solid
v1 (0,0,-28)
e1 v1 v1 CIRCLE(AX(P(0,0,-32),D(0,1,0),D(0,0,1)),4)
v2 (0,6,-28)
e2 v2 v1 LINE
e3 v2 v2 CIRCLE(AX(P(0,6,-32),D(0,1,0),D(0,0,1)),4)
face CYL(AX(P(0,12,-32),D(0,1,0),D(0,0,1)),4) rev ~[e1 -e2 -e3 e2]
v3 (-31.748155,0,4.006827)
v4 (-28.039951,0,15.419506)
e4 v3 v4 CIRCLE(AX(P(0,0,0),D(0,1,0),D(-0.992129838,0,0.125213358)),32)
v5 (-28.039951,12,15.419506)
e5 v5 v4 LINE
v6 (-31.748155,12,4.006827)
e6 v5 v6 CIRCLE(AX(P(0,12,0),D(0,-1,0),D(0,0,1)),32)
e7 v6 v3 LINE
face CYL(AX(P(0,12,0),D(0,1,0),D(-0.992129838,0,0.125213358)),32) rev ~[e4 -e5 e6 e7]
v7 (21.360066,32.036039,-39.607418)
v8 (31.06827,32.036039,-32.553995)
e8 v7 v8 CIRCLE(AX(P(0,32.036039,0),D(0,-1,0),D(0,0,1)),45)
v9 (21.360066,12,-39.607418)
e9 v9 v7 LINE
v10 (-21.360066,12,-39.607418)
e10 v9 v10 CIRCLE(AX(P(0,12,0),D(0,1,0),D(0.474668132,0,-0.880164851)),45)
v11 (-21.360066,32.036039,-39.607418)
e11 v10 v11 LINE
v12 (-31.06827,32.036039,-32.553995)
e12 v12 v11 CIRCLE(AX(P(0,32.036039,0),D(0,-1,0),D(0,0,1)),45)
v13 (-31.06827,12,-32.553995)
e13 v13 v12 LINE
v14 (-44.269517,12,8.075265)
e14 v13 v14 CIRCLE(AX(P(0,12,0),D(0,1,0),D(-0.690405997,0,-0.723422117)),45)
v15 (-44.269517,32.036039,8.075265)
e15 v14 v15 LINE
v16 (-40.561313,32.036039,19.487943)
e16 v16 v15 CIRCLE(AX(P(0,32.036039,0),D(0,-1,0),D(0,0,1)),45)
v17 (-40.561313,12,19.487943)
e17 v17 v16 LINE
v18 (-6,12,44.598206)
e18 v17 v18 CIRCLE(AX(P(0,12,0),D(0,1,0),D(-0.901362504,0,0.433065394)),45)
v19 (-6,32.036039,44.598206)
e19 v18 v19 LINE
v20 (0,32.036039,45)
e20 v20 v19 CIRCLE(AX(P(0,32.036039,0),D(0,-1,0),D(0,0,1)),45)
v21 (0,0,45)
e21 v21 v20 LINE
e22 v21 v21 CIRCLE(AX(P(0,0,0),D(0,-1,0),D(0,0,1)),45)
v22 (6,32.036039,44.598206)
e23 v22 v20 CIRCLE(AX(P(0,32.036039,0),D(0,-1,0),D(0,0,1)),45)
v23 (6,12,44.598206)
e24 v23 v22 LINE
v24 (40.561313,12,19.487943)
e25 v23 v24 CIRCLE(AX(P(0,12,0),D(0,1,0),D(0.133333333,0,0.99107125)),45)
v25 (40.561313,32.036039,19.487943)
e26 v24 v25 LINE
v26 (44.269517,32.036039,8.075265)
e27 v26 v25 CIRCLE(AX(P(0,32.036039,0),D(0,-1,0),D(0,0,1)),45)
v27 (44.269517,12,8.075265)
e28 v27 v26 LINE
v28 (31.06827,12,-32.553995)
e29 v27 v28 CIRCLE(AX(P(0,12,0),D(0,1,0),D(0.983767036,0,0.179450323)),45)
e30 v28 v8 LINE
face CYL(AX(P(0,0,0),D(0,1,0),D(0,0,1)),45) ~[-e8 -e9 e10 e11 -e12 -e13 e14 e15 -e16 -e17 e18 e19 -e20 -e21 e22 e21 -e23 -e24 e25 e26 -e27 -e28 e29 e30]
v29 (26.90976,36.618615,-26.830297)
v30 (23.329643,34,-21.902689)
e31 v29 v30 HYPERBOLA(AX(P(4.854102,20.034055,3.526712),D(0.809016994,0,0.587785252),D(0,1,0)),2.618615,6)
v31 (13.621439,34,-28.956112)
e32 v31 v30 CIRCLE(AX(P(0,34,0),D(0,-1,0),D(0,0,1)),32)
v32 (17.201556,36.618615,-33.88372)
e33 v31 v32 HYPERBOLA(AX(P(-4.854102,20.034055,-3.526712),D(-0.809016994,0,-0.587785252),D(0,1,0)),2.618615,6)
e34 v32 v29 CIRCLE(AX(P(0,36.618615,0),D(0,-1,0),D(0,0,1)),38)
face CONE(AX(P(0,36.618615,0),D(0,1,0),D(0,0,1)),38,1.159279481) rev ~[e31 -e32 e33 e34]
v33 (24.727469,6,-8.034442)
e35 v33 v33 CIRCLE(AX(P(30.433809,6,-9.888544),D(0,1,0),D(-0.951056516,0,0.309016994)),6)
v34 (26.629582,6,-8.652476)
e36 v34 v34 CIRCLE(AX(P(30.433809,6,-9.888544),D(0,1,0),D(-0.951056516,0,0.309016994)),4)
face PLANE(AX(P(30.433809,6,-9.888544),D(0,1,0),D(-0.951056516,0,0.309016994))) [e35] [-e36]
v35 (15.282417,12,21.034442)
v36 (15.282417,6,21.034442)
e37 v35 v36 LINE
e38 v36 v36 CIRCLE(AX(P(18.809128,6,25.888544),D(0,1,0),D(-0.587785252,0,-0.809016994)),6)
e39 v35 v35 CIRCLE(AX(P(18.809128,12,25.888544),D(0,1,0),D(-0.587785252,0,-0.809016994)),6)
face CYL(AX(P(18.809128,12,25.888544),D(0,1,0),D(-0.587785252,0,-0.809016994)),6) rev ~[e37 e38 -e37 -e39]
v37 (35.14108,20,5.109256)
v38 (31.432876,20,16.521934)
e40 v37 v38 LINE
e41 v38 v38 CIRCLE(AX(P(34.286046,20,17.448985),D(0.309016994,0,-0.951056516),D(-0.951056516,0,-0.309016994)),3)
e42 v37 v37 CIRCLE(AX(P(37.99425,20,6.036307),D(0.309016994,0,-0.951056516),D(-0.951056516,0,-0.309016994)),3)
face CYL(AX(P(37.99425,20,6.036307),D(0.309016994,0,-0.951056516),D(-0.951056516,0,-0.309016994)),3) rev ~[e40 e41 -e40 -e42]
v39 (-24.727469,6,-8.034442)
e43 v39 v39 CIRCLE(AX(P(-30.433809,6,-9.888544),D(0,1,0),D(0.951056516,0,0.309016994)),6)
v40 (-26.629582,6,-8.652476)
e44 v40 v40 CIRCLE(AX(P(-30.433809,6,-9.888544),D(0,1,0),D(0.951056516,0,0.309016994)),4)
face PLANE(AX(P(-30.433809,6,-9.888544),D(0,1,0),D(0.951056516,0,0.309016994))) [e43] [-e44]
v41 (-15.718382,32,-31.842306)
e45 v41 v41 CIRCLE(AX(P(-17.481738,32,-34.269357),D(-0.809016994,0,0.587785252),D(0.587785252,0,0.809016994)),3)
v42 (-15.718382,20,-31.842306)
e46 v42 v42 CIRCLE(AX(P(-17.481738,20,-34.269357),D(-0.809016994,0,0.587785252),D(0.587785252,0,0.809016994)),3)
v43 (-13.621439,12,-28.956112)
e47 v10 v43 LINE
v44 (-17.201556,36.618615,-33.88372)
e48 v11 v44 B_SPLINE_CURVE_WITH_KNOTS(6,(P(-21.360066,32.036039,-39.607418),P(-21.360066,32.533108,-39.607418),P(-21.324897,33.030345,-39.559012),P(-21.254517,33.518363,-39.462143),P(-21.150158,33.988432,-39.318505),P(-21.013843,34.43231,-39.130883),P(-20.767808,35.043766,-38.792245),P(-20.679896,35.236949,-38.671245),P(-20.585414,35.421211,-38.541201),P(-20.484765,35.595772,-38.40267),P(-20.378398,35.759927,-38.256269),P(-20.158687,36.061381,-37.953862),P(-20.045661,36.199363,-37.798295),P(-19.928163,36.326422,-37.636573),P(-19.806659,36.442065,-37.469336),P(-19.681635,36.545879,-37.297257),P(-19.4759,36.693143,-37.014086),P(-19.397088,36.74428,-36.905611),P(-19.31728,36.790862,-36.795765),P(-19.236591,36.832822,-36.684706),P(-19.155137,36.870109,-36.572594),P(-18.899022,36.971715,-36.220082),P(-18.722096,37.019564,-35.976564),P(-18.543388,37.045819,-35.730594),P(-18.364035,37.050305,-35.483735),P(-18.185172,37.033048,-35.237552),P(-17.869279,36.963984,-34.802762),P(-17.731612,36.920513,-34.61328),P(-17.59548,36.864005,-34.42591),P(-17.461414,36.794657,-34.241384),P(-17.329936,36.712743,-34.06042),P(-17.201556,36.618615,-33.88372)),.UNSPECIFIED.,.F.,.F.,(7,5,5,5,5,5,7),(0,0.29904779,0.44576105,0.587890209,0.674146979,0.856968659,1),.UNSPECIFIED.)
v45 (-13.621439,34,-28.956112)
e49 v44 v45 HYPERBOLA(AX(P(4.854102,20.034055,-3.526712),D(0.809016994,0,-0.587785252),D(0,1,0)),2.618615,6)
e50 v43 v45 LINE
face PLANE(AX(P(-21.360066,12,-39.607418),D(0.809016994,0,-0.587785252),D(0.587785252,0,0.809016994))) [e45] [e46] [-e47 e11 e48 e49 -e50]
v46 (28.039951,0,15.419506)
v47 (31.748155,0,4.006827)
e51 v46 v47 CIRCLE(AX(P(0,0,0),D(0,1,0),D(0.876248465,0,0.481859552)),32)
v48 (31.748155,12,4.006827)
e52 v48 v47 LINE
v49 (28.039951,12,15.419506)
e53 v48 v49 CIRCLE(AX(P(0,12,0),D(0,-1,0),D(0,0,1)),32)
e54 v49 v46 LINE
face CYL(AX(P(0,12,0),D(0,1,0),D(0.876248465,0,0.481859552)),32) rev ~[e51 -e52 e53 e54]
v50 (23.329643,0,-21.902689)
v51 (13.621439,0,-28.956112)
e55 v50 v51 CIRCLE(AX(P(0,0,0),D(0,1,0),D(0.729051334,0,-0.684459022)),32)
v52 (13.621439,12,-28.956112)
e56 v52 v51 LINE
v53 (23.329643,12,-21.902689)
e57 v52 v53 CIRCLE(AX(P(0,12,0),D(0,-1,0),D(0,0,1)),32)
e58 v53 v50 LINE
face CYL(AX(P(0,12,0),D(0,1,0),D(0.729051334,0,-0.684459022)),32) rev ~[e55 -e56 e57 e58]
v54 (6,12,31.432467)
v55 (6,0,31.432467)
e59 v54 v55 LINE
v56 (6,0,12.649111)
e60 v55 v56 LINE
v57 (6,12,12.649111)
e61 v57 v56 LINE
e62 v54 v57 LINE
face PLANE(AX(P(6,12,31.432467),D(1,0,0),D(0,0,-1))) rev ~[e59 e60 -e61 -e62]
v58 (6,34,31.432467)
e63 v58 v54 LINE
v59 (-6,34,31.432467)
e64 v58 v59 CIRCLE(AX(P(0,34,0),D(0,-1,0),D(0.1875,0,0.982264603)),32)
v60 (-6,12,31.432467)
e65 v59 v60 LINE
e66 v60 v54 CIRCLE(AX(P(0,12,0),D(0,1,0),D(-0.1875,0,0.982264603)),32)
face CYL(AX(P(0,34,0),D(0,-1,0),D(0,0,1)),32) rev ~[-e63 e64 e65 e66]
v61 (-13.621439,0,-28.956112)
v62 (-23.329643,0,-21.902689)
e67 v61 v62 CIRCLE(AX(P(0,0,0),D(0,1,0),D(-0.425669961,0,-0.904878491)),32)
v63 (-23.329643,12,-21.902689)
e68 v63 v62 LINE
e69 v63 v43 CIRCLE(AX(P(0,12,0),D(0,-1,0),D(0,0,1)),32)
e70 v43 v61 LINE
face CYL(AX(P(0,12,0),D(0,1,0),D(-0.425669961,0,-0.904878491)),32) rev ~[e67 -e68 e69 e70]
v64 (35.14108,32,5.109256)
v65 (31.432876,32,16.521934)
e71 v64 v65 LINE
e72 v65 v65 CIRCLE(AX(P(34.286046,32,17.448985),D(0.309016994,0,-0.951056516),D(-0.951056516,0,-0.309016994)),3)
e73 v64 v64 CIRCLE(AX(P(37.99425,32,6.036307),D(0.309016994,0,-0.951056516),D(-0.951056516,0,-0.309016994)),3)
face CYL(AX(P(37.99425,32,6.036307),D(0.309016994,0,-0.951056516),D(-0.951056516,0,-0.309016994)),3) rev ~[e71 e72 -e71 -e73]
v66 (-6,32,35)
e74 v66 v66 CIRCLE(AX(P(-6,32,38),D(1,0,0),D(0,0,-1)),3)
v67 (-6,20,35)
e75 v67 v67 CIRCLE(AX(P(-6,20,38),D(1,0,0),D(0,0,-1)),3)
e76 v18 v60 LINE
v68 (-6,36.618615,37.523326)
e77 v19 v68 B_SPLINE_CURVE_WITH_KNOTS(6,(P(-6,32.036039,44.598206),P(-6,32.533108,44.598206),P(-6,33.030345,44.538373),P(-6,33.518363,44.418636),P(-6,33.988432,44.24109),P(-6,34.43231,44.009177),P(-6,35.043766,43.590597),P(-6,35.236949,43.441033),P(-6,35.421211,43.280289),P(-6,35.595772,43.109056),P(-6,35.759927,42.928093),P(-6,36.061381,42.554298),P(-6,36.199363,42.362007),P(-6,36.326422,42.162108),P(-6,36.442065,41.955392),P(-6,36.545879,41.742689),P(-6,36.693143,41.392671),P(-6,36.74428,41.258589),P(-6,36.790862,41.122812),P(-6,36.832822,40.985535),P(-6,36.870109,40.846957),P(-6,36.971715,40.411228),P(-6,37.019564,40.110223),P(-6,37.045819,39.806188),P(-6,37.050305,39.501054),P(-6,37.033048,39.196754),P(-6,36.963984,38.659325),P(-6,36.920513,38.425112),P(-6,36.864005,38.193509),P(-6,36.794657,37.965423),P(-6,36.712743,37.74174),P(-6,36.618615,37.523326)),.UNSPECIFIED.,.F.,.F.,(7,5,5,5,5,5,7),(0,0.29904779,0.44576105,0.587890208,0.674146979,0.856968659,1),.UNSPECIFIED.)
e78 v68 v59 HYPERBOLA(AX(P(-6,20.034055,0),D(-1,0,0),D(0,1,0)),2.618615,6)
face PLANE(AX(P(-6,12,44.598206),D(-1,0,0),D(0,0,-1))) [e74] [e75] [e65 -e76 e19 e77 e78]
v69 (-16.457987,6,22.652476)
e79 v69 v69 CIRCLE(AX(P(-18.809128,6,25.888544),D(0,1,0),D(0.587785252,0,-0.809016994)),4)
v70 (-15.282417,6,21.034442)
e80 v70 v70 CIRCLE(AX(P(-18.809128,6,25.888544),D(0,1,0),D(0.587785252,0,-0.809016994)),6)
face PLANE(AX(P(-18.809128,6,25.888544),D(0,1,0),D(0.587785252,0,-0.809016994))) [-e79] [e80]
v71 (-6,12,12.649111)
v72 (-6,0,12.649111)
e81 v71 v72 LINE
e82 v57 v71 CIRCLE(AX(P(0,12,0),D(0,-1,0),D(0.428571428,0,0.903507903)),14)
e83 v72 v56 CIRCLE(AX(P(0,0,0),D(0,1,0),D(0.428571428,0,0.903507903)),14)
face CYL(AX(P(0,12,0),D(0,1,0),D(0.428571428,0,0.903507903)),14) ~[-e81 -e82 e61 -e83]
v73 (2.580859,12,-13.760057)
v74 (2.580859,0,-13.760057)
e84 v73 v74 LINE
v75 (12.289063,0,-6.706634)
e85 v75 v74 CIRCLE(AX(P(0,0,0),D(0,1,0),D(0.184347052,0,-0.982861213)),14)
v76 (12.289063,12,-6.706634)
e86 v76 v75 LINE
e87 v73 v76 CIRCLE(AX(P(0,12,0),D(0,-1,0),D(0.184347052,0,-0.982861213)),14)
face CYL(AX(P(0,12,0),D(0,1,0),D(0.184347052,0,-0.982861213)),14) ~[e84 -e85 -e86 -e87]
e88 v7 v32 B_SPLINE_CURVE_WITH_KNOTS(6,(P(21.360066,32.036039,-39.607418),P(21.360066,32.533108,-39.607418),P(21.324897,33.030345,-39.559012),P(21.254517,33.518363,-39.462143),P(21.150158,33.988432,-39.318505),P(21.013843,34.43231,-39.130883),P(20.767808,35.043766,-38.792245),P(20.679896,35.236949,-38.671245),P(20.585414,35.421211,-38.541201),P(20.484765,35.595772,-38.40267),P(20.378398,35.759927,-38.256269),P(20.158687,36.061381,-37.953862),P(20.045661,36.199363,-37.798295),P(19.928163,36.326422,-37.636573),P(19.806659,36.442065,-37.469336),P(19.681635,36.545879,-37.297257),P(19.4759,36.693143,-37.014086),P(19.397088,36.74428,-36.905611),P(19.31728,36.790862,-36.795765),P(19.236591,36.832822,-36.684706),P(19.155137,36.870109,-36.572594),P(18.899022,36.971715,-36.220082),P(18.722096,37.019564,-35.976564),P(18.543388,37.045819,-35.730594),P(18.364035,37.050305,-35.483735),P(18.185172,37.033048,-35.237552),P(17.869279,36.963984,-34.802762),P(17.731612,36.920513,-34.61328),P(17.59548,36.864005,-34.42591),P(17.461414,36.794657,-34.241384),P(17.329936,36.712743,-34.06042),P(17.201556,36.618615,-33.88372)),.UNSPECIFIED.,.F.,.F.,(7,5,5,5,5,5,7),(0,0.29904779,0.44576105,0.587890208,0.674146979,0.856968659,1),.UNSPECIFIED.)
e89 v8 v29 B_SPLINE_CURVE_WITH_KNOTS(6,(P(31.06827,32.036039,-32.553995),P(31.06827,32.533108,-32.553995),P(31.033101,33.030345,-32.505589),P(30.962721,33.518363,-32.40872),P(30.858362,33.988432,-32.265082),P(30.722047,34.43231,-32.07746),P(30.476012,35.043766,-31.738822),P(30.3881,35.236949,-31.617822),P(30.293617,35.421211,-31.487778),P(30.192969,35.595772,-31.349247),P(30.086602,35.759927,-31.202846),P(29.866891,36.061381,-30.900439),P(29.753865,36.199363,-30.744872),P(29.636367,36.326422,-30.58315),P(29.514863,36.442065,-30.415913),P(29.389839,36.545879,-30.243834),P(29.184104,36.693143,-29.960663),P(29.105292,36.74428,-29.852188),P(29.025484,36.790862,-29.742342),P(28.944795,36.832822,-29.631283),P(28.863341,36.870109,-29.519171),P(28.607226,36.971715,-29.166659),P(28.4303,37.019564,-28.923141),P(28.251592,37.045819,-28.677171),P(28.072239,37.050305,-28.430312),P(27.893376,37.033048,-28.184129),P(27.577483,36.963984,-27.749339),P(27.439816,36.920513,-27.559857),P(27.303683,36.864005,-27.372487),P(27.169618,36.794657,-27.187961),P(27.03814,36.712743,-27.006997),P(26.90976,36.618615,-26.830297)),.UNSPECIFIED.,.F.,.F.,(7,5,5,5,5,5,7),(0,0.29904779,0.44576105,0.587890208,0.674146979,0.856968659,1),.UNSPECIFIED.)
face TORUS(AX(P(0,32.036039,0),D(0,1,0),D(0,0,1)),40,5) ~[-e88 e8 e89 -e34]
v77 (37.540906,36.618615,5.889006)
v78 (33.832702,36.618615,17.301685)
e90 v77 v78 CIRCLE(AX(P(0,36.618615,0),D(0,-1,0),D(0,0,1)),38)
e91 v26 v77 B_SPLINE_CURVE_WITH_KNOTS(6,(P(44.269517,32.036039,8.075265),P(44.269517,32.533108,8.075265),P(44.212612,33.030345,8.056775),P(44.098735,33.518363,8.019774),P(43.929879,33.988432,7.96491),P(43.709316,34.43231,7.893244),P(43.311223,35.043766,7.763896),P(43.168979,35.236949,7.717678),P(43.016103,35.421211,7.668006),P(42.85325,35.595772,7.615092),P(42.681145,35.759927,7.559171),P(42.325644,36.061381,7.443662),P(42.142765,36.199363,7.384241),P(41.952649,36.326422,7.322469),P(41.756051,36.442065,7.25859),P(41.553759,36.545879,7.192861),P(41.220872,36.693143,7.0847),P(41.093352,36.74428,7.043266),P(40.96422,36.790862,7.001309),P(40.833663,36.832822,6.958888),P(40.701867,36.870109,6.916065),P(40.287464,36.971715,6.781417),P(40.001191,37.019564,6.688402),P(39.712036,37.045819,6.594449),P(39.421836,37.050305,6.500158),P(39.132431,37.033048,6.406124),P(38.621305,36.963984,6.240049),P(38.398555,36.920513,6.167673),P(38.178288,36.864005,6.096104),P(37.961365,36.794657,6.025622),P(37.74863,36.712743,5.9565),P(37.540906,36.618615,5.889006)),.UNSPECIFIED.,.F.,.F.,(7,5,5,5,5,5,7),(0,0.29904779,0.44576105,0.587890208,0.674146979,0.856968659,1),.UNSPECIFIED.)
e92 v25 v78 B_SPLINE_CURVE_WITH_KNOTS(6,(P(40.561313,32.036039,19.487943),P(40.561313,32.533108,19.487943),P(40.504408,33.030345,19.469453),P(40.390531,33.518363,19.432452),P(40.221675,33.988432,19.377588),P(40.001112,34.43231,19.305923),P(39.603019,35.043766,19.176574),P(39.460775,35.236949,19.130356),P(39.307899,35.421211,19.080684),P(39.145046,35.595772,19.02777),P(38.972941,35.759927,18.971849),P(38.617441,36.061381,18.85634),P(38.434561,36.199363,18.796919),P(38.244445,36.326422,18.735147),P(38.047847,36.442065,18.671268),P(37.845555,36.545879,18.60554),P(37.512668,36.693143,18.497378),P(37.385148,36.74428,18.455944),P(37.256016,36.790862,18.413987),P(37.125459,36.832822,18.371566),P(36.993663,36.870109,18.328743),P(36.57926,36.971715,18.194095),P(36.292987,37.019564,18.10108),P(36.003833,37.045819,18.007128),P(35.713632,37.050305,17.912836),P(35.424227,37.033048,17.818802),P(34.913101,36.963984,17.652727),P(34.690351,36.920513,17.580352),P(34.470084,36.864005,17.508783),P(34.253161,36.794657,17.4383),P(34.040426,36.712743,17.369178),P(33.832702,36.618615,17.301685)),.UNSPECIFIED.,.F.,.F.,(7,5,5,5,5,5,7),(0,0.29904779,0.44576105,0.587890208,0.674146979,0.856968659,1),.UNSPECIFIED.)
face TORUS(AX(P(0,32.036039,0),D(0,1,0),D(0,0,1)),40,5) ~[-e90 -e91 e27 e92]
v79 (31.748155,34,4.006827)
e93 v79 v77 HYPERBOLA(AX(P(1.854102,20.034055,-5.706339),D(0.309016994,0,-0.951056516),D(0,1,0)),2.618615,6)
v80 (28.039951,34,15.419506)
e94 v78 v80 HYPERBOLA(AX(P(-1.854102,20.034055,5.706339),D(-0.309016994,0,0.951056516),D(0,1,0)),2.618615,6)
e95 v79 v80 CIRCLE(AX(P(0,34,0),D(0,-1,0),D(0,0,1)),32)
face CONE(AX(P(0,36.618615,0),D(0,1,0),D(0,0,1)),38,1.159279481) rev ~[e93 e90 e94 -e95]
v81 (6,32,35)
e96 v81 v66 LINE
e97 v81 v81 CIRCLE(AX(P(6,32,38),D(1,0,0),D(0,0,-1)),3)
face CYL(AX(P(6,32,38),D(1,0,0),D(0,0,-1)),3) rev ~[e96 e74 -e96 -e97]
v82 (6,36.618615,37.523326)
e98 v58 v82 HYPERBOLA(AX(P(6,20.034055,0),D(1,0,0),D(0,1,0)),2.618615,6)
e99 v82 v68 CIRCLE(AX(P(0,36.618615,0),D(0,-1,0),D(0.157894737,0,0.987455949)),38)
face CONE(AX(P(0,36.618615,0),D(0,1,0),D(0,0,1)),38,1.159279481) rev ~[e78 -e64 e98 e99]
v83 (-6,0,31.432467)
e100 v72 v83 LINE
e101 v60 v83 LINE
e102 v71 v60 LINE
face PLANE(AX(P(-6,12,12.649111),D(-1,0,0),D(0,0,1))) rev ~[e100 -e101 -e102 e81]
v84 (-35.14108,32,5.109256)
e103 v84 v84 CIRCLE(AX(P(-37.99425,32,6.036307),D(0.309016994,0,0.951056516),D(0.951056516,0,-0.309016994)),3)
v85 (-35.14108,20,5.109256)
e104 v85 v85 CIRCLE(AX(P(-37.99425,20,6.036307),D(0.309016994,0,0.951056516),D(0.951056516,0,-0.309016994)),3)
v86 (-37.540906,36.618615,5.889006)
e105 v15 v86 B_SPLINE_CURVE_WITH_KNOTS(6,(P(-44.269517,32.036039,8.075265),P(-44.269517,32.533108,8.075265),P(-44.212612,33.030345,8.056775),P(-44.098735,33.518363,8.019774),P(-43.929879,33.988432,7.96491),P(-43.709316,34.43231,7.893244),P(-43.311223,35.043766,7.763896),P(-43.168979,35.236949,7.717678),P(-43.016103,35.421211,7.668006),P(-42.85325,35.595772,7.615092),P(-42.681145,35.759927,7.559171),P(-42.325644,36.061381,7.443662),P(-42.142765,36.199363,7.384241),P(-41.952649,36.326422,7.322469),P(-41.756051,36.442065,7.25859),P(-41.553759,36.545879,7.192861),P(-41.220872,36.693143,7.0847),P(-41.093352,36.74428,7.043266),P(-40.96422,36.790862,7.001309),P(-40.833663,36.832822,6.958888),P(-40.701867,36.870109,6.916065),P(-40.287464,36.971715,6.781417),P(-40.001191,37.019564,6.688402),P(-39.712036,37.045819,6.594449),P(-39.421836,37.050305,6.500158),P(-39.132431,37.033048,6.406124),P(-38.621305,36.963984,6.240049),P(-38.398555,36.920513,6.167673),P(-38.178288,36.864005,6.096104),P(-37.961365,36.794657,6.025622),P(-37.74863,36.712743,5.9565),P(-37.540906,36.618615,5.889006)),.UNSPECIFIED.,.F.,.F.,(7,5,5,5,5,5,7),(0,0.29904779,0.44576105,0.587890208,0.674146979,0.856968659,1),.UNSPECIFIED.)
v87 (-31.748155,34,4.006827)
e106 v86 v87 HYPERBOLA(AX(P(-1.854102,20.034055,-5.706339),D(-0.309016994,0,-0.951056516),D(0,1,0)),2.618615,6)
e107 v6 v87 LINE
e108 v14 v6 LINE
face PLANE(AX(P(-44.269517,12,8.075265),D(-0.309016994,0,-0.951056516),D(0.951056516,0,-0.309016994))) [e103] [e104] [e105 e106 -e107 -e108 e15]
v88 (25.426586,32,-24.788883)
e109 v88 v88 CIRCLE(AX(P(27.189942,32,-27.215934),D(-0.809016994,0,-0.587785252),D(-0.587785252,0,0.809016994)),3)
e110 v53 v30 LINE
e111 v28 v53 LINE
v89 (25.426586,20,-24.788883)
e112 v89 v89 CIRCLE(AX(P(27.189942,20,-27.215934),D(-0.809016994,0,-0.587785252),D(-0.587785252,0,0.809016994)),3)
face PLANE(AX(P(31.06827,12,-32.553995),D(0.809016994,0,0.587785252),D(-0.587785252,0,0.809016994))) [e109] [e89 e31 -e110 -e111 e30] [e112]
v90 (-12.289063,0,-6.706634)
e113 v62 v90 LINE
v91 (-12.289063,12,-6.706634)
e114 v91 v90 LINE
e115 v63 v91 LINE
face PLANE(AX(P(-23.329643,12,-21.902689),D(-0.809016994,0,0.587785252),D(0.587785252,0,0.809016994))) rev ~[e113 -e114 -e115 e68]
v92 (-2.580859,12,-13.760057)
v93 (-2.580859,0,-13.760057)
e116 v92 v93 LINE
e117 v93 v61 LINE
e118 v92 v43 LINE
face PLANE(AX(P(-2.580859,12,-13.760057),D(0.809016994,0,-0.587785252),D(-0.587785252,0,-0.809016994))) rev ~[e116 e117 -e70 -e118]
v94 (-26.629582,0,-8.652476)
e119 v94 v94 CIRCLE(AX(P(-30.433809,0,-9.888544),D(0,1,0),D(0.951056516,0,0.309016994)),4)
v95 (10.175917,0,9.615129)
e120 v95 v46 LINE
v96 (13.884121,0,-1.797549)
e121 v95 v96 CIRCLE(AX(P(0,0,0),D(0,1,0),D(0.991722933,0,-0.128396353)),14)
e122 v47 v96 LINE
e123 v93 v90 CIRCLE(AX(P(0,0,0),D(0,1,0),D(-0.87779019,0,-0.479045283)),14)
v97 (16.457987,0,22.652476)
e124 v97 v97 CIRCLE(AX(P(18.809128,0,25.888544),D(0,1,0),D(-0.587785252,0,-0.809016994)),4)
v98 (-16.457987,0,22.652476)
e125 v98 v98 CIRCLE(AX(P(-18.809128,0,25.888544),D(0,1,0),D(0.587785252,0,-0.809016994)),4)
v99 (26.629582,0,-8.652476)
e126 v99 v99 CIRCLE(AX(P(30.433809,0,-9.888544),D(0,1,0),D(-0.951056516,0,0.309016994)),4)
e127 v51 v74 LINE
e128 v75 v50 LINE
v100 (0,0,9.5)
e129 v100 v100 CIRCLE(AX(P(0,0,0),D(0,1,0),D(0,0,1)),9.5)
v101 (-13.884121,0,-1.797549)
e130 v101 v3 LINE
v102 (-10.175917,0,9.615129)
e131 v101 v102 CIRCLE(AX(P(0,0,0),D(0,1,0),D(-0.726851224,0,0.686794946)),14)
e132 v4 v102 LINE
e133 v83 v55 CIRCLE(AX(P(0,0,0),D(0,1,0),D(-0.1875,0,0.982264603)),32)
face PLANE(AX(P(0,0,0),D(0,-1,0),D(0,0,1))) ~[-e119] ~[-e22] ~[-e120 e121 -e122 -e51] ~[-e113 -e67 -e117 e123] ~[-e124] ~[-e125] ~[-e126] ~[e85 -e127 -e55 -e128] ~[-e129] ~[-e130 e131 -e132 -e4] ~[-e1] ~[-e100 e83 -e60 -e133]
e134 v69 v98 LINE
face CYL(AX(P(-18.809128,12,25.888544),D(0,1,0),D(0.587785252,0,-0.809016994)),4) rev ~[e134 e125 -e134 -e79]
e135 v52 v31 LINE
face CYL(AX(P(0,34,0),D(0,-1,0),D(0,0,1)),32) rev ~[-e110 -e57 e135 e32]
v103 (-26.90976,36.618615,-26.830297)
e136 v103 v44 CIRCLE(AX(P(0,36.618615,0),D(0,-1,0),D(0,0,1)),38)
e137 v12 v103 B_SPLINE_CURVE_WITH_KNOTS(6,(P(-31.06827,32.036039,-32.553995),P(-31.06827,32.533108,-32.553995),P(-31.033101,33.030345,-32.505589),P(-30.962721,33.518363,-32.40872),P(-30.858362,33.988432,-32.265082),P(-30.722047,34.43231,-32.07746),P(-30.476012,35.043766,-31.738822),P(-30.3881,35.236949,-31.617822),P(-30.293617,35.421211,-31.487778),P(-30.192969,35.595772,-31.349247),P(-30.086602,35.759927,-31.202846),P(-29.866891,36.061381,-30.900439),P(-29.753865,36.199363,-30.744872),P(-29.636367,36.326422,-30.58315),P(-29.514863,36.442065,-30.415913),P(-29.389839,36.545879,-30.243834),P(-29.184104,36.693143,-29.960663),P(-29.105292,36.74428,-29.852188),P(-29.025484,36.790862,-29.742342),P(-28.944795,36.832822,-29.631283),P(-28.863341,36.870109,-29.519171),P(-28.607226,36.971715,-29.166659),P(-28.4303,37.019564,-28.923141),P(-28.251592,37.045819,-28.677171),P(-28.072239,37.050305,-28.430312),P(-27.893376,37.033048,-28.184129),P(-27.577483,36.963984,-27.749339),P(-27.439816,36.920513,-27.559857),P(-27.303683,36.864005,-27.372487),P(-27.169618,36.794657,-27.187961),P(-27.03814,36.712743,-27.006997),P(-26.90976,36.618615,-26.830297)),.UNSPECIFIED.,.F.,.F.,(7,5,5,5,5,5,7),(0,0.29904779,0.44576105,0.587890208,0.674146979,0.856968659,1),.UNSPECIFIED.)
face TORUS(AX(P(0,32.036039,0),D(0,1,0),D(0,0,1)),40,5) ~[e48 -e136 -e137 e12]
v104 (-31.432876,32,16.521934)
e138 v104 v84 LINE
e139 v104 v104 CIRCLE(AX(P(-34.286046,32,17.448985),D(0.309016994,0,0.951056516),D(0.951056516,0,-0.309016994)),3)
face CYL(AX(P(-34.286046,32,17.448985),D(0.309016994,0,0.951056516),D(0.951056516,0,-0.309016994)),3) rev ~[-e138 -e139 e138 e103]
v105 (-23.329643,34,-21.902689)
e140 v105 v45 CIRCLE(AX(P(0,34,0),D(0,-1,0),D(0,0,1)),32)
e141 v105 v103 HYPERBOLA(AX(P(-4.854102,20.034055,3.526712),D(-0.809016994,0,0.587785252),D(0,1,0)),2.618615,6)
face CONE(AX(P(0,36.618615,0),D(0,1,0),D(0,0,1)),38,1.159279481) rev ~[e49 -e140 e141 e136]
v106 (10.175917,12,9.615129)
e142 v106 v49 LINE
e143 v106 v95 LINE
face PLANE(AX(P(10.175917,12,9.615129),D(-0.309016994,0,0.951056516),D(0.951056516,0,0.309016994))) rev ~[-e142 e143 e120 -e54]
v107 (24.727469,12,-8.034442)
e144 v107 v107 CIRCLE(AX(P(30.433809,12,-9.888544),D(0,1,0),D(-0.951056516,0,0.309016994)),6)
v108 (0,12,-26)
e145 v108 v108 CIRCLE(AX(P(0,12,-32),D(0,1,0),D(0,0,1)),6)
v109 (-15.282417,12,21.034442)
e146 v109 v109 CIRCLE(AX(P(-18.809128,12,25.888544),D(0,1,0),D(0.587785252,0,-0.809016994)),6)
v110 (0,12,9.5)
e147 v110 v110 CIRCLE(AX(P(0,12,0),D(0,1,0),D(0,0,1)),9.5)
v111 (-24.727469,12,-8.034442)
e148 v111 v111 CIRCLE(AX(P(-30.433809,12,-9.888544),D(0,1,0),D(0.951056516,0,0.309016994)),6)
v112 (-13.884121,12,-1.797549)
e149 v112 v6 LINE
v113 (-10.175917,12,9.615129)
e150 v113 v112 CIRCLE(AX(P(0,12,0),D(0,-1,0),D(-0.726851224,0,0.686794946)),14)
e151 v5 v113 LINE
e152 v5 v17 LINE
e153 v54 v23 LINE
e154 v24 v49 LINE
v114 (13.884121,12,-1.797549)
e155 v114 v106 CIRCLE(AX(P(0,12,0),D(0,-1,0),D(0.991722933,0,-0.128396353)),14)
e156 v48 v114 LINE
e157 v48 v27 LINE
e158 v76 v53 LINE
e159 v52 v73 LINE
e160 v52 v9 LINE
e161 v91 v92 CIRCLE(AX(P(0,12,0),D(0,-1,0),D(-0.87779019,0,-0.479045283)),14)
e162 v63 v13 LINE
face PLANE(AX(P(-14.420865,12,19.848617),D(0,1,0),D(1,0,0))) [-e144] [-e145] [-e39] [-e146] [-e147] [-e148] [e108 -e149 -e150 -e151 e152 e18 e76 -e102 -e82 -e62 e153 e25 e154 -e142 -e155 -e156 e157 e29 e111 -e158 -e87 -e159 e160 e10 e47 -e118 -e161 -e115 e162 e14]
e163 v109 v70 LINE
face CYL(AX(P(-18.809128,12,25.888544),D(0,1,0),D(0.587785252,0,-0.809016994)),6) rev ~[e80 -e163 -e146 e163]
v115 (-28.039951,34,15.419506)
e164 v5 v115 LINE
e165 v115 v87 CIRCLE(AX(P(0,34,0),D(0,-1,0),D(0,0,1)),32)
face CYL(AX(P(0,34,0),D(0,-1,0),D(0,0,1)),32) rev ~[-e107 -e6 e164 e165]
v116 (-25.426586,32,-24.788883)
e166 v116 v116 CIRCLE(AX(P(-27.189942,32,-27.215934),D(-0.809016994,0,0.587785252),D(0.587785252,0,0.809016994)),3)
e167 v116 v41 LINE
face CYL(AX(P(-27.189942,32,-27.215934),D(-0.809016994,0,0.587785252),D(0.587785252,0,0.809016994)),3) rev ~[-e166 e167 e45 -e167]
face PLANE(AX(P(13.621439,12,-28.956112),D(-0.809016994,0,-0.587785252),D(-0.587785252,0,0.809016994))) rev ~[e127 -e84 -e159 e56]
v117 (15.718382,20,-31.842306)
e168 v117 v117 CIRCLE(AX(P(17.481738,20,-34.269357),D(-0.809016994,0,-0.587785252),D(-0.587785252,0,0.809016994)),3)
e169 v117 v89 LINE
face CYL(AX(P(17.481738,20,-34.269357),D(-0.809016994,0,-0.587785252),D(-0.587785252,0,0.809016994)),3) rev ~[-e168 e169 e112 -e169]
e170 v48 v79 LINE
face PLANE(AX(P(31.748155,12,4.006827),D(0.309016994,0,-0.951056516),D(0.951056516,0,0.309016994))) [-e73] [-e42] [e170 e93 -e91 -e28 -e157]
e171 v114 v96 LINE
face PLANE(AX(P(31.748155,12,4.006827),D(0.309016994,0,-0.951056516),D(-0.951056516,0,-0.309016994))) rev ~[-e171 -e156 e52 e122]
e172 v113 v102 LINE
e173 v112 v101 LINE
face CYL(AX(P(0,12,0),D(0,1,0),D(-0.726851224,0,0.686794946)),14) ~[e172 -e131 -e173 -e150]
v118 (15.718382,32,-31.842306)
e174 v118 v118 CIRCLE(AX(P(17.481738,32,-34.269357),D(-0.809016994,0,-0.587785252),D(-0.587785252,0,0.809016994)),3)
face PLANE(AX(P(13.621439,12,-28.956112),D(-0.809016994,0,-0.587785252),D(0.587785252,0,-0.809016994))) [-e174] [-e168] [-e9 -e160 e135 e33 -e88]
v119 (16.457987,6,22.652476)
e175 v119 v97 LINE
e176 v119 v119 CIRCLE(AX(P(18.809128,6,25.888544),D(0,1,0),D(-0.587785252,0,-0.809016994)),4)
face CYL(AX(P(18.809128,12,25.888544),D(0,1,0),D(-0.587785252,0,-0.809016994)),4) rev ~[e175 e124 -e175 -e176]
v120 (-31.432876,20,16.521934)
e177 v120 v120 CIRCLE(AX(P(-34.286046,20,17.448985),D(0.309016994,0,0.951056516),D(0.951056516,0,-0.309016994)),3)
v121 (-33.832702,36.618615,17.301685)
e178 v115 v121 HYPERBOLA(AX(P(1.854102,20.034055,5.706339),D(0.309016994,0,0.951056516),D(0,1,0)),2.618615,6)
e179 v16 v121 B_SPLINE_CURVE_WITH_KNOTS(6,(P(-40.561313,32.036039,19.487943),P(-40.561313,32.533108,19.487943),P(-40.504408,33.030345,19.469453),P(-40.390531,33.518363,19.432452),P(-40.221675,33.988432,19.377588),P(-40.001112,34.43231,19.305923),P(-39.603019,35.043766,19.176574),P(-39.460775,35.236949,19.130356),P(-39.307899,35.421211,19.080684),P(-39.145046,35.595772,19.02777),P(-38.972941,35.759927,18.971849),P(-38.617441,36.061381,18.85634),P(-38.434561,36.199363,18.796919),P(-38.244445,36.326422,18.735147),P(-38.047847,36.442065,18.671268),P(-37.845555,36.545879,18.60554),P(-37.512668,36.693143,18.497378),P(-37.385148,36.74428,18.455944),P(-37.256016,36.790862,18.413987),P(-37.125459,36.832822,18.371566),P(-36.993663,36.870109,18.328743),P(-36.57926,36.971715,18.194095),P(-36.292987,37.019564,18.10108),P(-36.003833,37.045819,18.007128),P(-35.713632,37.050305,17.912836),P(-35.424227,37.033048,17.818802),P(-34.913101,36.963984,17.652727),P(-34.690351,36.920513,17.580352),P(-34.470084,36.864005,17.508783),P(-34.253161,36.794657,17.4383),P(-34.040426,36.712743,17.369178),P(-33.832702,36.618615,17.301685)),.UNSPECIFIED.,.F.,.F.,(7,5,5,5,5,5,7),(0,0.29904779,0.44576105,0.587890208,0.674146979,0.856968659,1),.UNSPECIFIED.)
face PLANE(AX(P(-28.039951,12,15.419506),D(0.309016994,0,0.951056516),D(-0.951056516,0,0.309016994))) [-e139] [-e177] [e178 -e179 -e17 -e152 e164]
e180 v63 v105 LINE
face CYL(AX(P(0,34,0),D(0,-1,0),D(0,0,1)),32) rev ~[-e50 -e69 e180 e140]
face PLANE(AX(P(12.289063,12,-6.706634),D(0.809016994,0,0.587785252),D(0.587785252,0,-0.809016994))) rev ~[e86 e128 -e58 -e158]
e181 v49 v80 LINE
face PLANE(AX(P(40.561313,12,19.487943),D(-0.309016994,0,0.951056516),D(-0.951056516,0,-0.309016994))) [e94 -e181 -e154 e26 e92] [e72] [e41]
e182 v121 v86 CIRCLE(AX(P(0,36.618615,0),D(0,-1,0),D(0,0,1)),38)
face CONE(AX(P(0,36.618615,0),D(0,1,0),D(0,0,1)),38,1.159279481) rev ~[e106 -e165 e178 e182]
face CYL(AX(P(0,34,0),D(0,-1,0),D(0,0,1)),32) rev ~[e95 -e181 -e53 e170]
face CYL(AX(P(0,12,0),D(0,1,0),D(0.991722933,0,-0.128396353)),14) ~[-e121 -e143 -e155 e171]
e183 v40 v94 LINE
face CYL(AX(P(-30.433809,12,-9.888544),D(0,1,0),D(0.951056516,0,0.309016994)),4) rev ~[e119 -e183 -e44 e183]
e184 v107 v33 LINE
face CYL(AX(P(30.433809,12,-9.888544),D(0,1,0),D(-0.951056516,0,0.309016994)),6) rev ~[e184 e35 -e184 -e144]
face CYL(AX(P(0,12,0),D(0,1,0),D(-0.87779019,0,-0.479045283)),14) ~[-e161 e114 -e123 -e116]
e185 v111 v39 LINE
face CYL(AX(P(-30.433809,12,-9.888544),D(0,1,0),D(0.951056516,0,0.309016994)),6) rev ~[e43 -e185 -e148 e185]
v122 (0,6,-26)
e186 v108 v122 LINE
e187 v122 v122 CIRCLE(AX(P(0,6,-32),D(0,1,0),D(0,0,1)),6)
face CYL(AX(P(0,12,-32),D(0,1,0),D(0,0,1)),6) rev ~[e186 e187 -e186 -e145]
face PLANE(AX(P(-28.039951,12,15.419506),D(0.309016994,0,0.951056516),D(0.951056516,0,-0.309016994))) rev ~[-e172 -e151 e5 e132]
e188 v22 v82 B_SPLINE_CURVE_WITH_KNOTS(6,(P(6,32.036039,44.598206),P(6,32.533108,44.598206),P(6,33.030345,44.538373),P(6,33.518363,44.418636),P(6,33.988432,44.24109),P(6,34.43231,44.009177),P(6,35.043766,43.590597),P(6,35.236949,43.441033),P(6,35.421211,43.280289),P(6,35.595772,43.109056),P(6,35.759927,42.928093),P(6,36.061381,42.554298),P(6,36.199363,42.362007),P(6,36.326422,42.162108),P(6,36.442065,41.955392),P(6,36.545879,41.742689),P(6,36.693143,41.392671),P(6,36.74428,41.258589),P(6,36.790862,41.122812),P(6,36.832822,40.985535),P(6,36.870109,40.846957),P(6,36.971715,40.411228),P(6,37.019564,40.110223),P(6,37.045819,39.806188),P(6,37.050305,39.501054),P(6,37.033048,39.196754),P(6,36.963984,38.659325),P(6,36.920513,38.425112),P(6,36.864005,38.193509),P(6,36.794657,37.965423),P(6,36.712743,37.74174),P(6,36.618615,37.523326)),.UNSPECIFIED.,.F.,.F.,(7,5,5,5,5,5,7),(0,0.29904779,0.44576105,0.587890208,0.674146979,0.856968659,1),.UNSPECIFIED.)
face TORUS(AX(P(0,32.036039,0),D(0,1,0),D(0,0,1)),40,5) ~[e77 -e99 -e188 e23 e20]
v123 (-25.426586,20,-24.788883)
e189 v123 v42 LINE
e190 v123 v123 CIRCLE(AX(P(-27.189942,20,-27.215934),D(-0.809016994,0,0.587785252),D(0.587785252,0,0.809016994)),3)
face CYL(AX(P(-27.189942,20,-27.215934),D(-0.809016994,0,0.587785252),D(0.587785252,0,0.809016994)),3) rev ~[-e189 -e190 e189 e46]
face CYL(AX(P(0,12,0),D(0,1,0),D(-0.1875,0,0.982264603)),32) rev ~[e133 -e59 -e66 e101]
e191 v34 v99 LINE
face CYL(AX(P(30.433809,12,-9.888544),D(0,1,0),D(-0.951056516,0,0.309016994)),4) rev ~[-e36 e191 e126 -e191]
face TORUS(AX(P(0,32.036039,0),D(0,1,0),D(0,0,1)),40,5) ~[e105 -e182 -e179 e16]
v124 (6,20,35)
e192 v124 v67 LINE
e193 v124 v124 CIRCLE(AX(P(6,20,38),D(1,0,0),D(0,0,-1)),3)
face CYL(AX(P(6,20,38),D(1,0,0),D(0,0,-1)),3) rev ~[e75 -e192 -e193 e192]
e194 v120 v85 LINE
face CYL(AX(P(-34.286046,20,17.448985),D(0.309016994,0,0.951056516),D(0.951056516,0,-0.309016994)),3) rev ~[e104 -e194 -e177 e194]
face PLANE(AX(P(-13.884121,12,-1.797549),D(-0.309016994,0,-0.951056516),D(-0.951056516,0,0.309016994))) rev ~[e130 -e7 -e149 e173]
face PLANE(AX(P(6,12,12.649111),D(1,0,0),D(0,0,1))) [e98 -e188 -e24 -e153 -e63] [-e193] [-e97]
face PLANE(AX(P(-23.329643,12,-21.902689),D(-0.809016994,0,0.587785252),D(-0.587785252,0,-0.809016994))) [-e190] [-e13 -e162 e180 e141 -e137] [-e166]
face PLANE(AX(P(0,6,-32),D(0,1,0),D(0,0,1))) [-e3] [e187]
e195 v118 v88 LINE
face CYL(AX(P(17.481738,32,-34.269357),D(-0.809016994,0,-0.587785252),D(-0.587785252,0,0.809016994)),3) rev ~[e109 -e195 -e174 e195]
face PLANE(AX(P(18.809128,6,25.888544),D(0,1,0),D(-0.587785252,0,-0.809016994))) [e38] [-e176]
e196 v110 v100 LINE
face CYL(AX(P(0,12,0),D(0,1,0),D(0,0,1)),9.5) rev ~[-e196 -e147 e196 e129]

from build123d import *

# Parameters (mm, degrees)
CUT_EXTRUDE_2_DEPTH      = 69.387157144
SKETCH_3_R               = 6
SKETCH_3_R_2             = 4
CUT_EXTRUDE_3_DEPTH      = 6
SKETCH_7_R               = 4
CUT_EXTRUDE_5_DEPTH      = 69.387157144
PATTERN_CIRCULAR_2_COUNT = 5
SKETCH_8_R               = 9.5
CUT_EXTRUDE_6_DEPTH      = 69.387157144
CUT_EXTRUDE_7_DEPTH      = 69.387157144
PATTERN_CIRCULAR_4_COUNT = 5
SKETCH_10_R              = 3
CUT_EXTRUDE_10_DEPTH     = 79.346077675
PATTERN_CIRCULAR_5_COUNT = 5


with BuildPart() as part:
    # 草图1 → 旋转1 (revolve)
    with BuildSketch(Plane.XY, mode=Mode.PRIVATE) as revolve_1_sk:
        with BuildLine():
            Line((0, 0), (-45, 0))
            Line((-45, 0), (-45, 11.036038988))
            Line((-45, 11.036038988), (-45, 32.036038988))
            ThreePointArc((-45, 32.036038988), (-42.738612788, 36.219339121), (-38, 36.618614683))
            Line((-38, 36.618614683), (-32, 34))
            Line((-32, 34), (-32, 12))
            Line((-32, 12), (0, 12))
            Line((0, 12), (0, 0))
        make_face()
    revolve(revolve_1_sk.sketch.rotate(Axis((0, 12, 0), (0, -1, 0)), 270), axis=Axis((0, 12, 0), (0, -1, 0)))

    # 草图2 → 切除-拉伸2 (cut, through all)
    with BuildSketch(Plane(origin=(0, 12, 0), x_dir=(1, 0, 0), z_dir=(0, 1, 0))):
        with BuildLine():
            ThreePointArc((-23.329642683, 21.9026887), (-30.433808521, 9.88854382), (-31.748154807, -4.00682747))
            Line((-31.748154807, -4.00682747), (-13.884121066, 1.797548946))
            ThreePointArc((-13.884121066, 1.797548946), (-13.314791228, 4.326237921), (-12.289062655, 6.706633958))
            Line((-12.289062655, 6.706633958), (-23.329642683, 21.9026887))
        make_face()
        with BuildLine():
            ThreePointArc((13.621438751, 28.956111727), (0, 32), (-13.621438751, 28.956111727))
            Line((-13.621438751, 28.956111727), (-2.580858723, 13.760056986))
            ThreePointArc((-2.580858723, 13.760056986), (0, 14), (2.580858723, 13.760056986))
            Line((2.580858723, 13.760056986), (13.621438751, 28.956111727))
        make_face()
        with BuildLine():
            Line((13.884121066, 1.797548946), (31.748154807, -4.00682747))
            ThreePointArc((31.748154807, -4.00682747), (31.93697664, -2.007367205), (32, 0))
            ThreePointArc((32, 0), (29.753559164, 11.778188191), (23.329642683, 21.9026887))
            Line((23.329642683, 21.9026887), (12.289062655, 6.706633958))
            ThreePointArc((12.289062655, 6.706633958), (13.314791228, 4.326237921), (13.884121066, 1.797548946))
        make_face()
        with BuildLine():
            ThreePointArc((10.175917134, -9.615129249), (8.228993532, -11.326237921), (6, -12.649110641))
            Line((6, -12.649110641), (6, -31.432467291))
            ThreePointArc((6, -31.432467291), (18.809128073, -25.88854382), (28.039950874, -15.419505666))
            Line((28.039950874, -15.419505666), (10.175917134, -9.615129249))
        make_face()
        with BuildLine():
            ThreePointArc((-28.039950874, -15.419505666), (-18.809128073, -25.88854382), (-6, -31.432467291))
            Line((-6, -31.432467291), (-6, -12.649110641))
            ThreePointArc((-6, -12.649110641), (-8.228993532, -11.326237921), (-10.175917134, -9.615129249))
            Line((-10.175917134, -9.615129249), (-28.039950874, -15.419505666))
        make_face()
        with BuildLine():
            ThreePointArc((28.039950874, -15.419505666), (18.809128073, -25.88854382), (6, -31.432467291))
            Line((6, -31.432467291), (6, -44.598206242))
            ThreePointArc((6, -44.598206242), (26.450336353, -36.405764747), (40.561312695, -19.487942745))
            Line((40.561312695, -19.487942745), (28.039950874, -15.419505666))
        make_face()
        with BuildLine():
            ThreePointArc((32, 0), (31.93697664, -2.007367205), (31.748154807, -4.00682747))
            Line((31.748154807, -4.00682747), (44.269516628, -8.07526455))
            ThreePointArc((44.269516628, -8.07526455), (42.797543233, 13.905764747), (31.068269874, 32.553995255))
            Line((31.068269874, 32.553995255), (23.329642683, 21.9026887))
            ThreePointArc((23.329642683, 21.9026887), (29.753559164, 11.778188191), (32, 0))
        make_face()
        with BuildLine():
            Line((-21.360065941, 39.607418282), (-13.621438751, 28.956111727))
            ThreePointArc((-13.621438751, 28.956111727), (0, 32), (13.621438751, 28.956111727))
            Line((13.621438751, 28.956111727), (21.360065941, 39.607418282))
            ThreePointArc((21.360065941, 39.607418282), (0, 45), (-21.360065941, 39.607418282))
        make_face()
        with BuildLine():
            Line((-44.269516628, -8.07526455), (-31.748154807, -4.00682747))
            ThreePointArc((-31.748154807, -4.00682747), (-30.433808521, 9.88854382), (-23.329642683, 21.9026887))
            Line((-23.329642683, 21.9026887), (-31.068269874, 32.553995255))
            ThreePointArc((-31.068269874, 32.553995255), (-42.797543233, 13.905764747), (-44.269516628, -8.07526455))
        make_face()
        with BuildLine():
            Line((-6, -44.598206242), (-6, -31.432467291))
            ThreePointArc((-6, -31.432467291), (-18.809128073, -25.88854382), (-28.039950874, -15.419505666))
            Line((-28.039950874, -15.419505666), (-40.561312695, -19.487942745))
            ThreePointArc((-40.561312695, -19.487942745), (-26.450336353, -36.405764747), (-6, -44.598206242))
        make_face()
    extrude(amount=CUT_EXTRUDE_2_DEPTH, mode=Mode.SUBTRACT)

    # 草图3 → 切除-拉伸3 (cut)
    with BuildSketch(Plane(origin=(0, 12, 0), x_dir=(1, 0, 0), z_dir=(0, 1, 0))):
        with Locations(Location((0, 32, 0), (0, 0, 270))):
            Circle(SKETCH_3_R)
        with Locations(Location((0, 32, 0), (0, 0, 270))):
            Circle(SKETCH_3_R_2, mode=Mode.SUBTRACT)
    cut_extrude_3 = extrude(amount=-CUT_EXTRUDE_3_DEPTH, mode=Mode.SUBTRACT)

    # 草图7 → 切除-拉伸5 (cut, through all)
    with BuildSketch(Plane(origin=(0, 12, 0), x_dir=(1, 0, 0), z_dir=(0, 1, 0))):
        with Locations(Location((0, 32, 0), (0, 0, 270))):
            Circle(SKETCH_7_R)
    cut_extrude_5 = extrude(amount=-CUT_EXTRUDE_5_DEPTH, mode=Mode.SUBTRACT)

    # 阵列(圆周)2: 切除-拉伸3, 切除-拉伸5 ×5 about axis
    pattern_circular_2_axis = Axis((0, 0, 0), (0, 1, 0))
    add([cut_extrude_3.rotate(pattern_circular_2_axis, i * 360 / PATTERN_CIRCULAR_2_COUNT) for i in range(1, PATTERN_CIRCULAR_2_COUNT)], mode=Mode.SUBTRACT)
    add([cut_extrude_5.rotate(pattern_circular_2_axis, i * 360 / PATTERN_CIRCULAR_2_COUNT) for i in range(1, PATTERN_CIRCULAR_2_COUNT)], mode=Mode.SUBTRACT)

    # 草图8 → 切除-拉伸6 (cut, through all)
    with BuildSketch(Plane(origin=(0, 12, 0), x_dir=(1, 0, 0), z_dir=(0, 1, 0))):
        with Locations(Location((0, 0, 0), (0, 0, 270))):
            Circle(SKETCH_8_R)
    extrude(amount=-CUT_EXTRUDE_6_DEPTH, mode=Mode.SUBTRACT)

    # 草图9 → 切除-拉伸7 (cut, through all)
    with BuildSketch(Plane(origin=(0, 12, 0), x_dir=(1, 0, 0), z_dir=(0, 1, 0))):
        with BuildLine():
            Line((-6, -12.649110641), (-6, -31.432467291))
            ThreePointArc((-6, -31.432467291), (0, -32), (6, -31.432467291))
            Line((6, -31.432467291), (6, -12.649110641))
            ThreePointArc((6, -12.649110641), (0, -14), (-6, -12.649110641))
        make_face()
    cut_extrude_7 = extrude(amount=-CUT_EXTRUDE_7_DEPTH, mode=Mode.SUBTRACT)

    # 阵列(圆周)4: 切除-拉伸7 ×5 about axis
    pattern_circular_4_axis = Axis((0, 0, 0), (0, 1, 0))
    for i in range(1, PATTERN_CIRCULAR_4_COUNT):
        add(cut_extrude_7.rotate(pattern_circular_4_axis, i * 360 / PATTERN_CIRCULAR_4_COUNT), mode=Mode.SUBTRACT)

    # 草图10 → 切除-拉伸10 (cut, through all)
    with BuildSketch(Plane(origin=(1.854101966, 0, 5.706339098), x_dir=(0.9510565162951544, 0, -0.30901699437494484), z_dir=(0.30901699437494484, 0, 0.9510565162951544))):
        with Locations((-38, 32)):
            Circle(SKETCH_10_R)
        with Locations((-38, 20)):
            Circle(SKETCH_10_R)
    cut_extrude_10 = extrude(amount=-CUT_EXTRUDE_10_DEPTH, mode=Mode.SUBTRACT)

    # 阵列(圆周)5: 切除-拉伸10 ×5 about axis
    pattern_circular_5_axis = Axis((0, 12, 0), (0, 1, 0))
    for i in range(1, PATTERN_CIRCULAR_5_COUNT):
        add(cut_extrude_10.rotate(pattern_circular_5_axis, i * 360 / PATTERN_CIRCULAR_5_COUNT), mode=Mode.SUBTRACT)


solid = part.part
